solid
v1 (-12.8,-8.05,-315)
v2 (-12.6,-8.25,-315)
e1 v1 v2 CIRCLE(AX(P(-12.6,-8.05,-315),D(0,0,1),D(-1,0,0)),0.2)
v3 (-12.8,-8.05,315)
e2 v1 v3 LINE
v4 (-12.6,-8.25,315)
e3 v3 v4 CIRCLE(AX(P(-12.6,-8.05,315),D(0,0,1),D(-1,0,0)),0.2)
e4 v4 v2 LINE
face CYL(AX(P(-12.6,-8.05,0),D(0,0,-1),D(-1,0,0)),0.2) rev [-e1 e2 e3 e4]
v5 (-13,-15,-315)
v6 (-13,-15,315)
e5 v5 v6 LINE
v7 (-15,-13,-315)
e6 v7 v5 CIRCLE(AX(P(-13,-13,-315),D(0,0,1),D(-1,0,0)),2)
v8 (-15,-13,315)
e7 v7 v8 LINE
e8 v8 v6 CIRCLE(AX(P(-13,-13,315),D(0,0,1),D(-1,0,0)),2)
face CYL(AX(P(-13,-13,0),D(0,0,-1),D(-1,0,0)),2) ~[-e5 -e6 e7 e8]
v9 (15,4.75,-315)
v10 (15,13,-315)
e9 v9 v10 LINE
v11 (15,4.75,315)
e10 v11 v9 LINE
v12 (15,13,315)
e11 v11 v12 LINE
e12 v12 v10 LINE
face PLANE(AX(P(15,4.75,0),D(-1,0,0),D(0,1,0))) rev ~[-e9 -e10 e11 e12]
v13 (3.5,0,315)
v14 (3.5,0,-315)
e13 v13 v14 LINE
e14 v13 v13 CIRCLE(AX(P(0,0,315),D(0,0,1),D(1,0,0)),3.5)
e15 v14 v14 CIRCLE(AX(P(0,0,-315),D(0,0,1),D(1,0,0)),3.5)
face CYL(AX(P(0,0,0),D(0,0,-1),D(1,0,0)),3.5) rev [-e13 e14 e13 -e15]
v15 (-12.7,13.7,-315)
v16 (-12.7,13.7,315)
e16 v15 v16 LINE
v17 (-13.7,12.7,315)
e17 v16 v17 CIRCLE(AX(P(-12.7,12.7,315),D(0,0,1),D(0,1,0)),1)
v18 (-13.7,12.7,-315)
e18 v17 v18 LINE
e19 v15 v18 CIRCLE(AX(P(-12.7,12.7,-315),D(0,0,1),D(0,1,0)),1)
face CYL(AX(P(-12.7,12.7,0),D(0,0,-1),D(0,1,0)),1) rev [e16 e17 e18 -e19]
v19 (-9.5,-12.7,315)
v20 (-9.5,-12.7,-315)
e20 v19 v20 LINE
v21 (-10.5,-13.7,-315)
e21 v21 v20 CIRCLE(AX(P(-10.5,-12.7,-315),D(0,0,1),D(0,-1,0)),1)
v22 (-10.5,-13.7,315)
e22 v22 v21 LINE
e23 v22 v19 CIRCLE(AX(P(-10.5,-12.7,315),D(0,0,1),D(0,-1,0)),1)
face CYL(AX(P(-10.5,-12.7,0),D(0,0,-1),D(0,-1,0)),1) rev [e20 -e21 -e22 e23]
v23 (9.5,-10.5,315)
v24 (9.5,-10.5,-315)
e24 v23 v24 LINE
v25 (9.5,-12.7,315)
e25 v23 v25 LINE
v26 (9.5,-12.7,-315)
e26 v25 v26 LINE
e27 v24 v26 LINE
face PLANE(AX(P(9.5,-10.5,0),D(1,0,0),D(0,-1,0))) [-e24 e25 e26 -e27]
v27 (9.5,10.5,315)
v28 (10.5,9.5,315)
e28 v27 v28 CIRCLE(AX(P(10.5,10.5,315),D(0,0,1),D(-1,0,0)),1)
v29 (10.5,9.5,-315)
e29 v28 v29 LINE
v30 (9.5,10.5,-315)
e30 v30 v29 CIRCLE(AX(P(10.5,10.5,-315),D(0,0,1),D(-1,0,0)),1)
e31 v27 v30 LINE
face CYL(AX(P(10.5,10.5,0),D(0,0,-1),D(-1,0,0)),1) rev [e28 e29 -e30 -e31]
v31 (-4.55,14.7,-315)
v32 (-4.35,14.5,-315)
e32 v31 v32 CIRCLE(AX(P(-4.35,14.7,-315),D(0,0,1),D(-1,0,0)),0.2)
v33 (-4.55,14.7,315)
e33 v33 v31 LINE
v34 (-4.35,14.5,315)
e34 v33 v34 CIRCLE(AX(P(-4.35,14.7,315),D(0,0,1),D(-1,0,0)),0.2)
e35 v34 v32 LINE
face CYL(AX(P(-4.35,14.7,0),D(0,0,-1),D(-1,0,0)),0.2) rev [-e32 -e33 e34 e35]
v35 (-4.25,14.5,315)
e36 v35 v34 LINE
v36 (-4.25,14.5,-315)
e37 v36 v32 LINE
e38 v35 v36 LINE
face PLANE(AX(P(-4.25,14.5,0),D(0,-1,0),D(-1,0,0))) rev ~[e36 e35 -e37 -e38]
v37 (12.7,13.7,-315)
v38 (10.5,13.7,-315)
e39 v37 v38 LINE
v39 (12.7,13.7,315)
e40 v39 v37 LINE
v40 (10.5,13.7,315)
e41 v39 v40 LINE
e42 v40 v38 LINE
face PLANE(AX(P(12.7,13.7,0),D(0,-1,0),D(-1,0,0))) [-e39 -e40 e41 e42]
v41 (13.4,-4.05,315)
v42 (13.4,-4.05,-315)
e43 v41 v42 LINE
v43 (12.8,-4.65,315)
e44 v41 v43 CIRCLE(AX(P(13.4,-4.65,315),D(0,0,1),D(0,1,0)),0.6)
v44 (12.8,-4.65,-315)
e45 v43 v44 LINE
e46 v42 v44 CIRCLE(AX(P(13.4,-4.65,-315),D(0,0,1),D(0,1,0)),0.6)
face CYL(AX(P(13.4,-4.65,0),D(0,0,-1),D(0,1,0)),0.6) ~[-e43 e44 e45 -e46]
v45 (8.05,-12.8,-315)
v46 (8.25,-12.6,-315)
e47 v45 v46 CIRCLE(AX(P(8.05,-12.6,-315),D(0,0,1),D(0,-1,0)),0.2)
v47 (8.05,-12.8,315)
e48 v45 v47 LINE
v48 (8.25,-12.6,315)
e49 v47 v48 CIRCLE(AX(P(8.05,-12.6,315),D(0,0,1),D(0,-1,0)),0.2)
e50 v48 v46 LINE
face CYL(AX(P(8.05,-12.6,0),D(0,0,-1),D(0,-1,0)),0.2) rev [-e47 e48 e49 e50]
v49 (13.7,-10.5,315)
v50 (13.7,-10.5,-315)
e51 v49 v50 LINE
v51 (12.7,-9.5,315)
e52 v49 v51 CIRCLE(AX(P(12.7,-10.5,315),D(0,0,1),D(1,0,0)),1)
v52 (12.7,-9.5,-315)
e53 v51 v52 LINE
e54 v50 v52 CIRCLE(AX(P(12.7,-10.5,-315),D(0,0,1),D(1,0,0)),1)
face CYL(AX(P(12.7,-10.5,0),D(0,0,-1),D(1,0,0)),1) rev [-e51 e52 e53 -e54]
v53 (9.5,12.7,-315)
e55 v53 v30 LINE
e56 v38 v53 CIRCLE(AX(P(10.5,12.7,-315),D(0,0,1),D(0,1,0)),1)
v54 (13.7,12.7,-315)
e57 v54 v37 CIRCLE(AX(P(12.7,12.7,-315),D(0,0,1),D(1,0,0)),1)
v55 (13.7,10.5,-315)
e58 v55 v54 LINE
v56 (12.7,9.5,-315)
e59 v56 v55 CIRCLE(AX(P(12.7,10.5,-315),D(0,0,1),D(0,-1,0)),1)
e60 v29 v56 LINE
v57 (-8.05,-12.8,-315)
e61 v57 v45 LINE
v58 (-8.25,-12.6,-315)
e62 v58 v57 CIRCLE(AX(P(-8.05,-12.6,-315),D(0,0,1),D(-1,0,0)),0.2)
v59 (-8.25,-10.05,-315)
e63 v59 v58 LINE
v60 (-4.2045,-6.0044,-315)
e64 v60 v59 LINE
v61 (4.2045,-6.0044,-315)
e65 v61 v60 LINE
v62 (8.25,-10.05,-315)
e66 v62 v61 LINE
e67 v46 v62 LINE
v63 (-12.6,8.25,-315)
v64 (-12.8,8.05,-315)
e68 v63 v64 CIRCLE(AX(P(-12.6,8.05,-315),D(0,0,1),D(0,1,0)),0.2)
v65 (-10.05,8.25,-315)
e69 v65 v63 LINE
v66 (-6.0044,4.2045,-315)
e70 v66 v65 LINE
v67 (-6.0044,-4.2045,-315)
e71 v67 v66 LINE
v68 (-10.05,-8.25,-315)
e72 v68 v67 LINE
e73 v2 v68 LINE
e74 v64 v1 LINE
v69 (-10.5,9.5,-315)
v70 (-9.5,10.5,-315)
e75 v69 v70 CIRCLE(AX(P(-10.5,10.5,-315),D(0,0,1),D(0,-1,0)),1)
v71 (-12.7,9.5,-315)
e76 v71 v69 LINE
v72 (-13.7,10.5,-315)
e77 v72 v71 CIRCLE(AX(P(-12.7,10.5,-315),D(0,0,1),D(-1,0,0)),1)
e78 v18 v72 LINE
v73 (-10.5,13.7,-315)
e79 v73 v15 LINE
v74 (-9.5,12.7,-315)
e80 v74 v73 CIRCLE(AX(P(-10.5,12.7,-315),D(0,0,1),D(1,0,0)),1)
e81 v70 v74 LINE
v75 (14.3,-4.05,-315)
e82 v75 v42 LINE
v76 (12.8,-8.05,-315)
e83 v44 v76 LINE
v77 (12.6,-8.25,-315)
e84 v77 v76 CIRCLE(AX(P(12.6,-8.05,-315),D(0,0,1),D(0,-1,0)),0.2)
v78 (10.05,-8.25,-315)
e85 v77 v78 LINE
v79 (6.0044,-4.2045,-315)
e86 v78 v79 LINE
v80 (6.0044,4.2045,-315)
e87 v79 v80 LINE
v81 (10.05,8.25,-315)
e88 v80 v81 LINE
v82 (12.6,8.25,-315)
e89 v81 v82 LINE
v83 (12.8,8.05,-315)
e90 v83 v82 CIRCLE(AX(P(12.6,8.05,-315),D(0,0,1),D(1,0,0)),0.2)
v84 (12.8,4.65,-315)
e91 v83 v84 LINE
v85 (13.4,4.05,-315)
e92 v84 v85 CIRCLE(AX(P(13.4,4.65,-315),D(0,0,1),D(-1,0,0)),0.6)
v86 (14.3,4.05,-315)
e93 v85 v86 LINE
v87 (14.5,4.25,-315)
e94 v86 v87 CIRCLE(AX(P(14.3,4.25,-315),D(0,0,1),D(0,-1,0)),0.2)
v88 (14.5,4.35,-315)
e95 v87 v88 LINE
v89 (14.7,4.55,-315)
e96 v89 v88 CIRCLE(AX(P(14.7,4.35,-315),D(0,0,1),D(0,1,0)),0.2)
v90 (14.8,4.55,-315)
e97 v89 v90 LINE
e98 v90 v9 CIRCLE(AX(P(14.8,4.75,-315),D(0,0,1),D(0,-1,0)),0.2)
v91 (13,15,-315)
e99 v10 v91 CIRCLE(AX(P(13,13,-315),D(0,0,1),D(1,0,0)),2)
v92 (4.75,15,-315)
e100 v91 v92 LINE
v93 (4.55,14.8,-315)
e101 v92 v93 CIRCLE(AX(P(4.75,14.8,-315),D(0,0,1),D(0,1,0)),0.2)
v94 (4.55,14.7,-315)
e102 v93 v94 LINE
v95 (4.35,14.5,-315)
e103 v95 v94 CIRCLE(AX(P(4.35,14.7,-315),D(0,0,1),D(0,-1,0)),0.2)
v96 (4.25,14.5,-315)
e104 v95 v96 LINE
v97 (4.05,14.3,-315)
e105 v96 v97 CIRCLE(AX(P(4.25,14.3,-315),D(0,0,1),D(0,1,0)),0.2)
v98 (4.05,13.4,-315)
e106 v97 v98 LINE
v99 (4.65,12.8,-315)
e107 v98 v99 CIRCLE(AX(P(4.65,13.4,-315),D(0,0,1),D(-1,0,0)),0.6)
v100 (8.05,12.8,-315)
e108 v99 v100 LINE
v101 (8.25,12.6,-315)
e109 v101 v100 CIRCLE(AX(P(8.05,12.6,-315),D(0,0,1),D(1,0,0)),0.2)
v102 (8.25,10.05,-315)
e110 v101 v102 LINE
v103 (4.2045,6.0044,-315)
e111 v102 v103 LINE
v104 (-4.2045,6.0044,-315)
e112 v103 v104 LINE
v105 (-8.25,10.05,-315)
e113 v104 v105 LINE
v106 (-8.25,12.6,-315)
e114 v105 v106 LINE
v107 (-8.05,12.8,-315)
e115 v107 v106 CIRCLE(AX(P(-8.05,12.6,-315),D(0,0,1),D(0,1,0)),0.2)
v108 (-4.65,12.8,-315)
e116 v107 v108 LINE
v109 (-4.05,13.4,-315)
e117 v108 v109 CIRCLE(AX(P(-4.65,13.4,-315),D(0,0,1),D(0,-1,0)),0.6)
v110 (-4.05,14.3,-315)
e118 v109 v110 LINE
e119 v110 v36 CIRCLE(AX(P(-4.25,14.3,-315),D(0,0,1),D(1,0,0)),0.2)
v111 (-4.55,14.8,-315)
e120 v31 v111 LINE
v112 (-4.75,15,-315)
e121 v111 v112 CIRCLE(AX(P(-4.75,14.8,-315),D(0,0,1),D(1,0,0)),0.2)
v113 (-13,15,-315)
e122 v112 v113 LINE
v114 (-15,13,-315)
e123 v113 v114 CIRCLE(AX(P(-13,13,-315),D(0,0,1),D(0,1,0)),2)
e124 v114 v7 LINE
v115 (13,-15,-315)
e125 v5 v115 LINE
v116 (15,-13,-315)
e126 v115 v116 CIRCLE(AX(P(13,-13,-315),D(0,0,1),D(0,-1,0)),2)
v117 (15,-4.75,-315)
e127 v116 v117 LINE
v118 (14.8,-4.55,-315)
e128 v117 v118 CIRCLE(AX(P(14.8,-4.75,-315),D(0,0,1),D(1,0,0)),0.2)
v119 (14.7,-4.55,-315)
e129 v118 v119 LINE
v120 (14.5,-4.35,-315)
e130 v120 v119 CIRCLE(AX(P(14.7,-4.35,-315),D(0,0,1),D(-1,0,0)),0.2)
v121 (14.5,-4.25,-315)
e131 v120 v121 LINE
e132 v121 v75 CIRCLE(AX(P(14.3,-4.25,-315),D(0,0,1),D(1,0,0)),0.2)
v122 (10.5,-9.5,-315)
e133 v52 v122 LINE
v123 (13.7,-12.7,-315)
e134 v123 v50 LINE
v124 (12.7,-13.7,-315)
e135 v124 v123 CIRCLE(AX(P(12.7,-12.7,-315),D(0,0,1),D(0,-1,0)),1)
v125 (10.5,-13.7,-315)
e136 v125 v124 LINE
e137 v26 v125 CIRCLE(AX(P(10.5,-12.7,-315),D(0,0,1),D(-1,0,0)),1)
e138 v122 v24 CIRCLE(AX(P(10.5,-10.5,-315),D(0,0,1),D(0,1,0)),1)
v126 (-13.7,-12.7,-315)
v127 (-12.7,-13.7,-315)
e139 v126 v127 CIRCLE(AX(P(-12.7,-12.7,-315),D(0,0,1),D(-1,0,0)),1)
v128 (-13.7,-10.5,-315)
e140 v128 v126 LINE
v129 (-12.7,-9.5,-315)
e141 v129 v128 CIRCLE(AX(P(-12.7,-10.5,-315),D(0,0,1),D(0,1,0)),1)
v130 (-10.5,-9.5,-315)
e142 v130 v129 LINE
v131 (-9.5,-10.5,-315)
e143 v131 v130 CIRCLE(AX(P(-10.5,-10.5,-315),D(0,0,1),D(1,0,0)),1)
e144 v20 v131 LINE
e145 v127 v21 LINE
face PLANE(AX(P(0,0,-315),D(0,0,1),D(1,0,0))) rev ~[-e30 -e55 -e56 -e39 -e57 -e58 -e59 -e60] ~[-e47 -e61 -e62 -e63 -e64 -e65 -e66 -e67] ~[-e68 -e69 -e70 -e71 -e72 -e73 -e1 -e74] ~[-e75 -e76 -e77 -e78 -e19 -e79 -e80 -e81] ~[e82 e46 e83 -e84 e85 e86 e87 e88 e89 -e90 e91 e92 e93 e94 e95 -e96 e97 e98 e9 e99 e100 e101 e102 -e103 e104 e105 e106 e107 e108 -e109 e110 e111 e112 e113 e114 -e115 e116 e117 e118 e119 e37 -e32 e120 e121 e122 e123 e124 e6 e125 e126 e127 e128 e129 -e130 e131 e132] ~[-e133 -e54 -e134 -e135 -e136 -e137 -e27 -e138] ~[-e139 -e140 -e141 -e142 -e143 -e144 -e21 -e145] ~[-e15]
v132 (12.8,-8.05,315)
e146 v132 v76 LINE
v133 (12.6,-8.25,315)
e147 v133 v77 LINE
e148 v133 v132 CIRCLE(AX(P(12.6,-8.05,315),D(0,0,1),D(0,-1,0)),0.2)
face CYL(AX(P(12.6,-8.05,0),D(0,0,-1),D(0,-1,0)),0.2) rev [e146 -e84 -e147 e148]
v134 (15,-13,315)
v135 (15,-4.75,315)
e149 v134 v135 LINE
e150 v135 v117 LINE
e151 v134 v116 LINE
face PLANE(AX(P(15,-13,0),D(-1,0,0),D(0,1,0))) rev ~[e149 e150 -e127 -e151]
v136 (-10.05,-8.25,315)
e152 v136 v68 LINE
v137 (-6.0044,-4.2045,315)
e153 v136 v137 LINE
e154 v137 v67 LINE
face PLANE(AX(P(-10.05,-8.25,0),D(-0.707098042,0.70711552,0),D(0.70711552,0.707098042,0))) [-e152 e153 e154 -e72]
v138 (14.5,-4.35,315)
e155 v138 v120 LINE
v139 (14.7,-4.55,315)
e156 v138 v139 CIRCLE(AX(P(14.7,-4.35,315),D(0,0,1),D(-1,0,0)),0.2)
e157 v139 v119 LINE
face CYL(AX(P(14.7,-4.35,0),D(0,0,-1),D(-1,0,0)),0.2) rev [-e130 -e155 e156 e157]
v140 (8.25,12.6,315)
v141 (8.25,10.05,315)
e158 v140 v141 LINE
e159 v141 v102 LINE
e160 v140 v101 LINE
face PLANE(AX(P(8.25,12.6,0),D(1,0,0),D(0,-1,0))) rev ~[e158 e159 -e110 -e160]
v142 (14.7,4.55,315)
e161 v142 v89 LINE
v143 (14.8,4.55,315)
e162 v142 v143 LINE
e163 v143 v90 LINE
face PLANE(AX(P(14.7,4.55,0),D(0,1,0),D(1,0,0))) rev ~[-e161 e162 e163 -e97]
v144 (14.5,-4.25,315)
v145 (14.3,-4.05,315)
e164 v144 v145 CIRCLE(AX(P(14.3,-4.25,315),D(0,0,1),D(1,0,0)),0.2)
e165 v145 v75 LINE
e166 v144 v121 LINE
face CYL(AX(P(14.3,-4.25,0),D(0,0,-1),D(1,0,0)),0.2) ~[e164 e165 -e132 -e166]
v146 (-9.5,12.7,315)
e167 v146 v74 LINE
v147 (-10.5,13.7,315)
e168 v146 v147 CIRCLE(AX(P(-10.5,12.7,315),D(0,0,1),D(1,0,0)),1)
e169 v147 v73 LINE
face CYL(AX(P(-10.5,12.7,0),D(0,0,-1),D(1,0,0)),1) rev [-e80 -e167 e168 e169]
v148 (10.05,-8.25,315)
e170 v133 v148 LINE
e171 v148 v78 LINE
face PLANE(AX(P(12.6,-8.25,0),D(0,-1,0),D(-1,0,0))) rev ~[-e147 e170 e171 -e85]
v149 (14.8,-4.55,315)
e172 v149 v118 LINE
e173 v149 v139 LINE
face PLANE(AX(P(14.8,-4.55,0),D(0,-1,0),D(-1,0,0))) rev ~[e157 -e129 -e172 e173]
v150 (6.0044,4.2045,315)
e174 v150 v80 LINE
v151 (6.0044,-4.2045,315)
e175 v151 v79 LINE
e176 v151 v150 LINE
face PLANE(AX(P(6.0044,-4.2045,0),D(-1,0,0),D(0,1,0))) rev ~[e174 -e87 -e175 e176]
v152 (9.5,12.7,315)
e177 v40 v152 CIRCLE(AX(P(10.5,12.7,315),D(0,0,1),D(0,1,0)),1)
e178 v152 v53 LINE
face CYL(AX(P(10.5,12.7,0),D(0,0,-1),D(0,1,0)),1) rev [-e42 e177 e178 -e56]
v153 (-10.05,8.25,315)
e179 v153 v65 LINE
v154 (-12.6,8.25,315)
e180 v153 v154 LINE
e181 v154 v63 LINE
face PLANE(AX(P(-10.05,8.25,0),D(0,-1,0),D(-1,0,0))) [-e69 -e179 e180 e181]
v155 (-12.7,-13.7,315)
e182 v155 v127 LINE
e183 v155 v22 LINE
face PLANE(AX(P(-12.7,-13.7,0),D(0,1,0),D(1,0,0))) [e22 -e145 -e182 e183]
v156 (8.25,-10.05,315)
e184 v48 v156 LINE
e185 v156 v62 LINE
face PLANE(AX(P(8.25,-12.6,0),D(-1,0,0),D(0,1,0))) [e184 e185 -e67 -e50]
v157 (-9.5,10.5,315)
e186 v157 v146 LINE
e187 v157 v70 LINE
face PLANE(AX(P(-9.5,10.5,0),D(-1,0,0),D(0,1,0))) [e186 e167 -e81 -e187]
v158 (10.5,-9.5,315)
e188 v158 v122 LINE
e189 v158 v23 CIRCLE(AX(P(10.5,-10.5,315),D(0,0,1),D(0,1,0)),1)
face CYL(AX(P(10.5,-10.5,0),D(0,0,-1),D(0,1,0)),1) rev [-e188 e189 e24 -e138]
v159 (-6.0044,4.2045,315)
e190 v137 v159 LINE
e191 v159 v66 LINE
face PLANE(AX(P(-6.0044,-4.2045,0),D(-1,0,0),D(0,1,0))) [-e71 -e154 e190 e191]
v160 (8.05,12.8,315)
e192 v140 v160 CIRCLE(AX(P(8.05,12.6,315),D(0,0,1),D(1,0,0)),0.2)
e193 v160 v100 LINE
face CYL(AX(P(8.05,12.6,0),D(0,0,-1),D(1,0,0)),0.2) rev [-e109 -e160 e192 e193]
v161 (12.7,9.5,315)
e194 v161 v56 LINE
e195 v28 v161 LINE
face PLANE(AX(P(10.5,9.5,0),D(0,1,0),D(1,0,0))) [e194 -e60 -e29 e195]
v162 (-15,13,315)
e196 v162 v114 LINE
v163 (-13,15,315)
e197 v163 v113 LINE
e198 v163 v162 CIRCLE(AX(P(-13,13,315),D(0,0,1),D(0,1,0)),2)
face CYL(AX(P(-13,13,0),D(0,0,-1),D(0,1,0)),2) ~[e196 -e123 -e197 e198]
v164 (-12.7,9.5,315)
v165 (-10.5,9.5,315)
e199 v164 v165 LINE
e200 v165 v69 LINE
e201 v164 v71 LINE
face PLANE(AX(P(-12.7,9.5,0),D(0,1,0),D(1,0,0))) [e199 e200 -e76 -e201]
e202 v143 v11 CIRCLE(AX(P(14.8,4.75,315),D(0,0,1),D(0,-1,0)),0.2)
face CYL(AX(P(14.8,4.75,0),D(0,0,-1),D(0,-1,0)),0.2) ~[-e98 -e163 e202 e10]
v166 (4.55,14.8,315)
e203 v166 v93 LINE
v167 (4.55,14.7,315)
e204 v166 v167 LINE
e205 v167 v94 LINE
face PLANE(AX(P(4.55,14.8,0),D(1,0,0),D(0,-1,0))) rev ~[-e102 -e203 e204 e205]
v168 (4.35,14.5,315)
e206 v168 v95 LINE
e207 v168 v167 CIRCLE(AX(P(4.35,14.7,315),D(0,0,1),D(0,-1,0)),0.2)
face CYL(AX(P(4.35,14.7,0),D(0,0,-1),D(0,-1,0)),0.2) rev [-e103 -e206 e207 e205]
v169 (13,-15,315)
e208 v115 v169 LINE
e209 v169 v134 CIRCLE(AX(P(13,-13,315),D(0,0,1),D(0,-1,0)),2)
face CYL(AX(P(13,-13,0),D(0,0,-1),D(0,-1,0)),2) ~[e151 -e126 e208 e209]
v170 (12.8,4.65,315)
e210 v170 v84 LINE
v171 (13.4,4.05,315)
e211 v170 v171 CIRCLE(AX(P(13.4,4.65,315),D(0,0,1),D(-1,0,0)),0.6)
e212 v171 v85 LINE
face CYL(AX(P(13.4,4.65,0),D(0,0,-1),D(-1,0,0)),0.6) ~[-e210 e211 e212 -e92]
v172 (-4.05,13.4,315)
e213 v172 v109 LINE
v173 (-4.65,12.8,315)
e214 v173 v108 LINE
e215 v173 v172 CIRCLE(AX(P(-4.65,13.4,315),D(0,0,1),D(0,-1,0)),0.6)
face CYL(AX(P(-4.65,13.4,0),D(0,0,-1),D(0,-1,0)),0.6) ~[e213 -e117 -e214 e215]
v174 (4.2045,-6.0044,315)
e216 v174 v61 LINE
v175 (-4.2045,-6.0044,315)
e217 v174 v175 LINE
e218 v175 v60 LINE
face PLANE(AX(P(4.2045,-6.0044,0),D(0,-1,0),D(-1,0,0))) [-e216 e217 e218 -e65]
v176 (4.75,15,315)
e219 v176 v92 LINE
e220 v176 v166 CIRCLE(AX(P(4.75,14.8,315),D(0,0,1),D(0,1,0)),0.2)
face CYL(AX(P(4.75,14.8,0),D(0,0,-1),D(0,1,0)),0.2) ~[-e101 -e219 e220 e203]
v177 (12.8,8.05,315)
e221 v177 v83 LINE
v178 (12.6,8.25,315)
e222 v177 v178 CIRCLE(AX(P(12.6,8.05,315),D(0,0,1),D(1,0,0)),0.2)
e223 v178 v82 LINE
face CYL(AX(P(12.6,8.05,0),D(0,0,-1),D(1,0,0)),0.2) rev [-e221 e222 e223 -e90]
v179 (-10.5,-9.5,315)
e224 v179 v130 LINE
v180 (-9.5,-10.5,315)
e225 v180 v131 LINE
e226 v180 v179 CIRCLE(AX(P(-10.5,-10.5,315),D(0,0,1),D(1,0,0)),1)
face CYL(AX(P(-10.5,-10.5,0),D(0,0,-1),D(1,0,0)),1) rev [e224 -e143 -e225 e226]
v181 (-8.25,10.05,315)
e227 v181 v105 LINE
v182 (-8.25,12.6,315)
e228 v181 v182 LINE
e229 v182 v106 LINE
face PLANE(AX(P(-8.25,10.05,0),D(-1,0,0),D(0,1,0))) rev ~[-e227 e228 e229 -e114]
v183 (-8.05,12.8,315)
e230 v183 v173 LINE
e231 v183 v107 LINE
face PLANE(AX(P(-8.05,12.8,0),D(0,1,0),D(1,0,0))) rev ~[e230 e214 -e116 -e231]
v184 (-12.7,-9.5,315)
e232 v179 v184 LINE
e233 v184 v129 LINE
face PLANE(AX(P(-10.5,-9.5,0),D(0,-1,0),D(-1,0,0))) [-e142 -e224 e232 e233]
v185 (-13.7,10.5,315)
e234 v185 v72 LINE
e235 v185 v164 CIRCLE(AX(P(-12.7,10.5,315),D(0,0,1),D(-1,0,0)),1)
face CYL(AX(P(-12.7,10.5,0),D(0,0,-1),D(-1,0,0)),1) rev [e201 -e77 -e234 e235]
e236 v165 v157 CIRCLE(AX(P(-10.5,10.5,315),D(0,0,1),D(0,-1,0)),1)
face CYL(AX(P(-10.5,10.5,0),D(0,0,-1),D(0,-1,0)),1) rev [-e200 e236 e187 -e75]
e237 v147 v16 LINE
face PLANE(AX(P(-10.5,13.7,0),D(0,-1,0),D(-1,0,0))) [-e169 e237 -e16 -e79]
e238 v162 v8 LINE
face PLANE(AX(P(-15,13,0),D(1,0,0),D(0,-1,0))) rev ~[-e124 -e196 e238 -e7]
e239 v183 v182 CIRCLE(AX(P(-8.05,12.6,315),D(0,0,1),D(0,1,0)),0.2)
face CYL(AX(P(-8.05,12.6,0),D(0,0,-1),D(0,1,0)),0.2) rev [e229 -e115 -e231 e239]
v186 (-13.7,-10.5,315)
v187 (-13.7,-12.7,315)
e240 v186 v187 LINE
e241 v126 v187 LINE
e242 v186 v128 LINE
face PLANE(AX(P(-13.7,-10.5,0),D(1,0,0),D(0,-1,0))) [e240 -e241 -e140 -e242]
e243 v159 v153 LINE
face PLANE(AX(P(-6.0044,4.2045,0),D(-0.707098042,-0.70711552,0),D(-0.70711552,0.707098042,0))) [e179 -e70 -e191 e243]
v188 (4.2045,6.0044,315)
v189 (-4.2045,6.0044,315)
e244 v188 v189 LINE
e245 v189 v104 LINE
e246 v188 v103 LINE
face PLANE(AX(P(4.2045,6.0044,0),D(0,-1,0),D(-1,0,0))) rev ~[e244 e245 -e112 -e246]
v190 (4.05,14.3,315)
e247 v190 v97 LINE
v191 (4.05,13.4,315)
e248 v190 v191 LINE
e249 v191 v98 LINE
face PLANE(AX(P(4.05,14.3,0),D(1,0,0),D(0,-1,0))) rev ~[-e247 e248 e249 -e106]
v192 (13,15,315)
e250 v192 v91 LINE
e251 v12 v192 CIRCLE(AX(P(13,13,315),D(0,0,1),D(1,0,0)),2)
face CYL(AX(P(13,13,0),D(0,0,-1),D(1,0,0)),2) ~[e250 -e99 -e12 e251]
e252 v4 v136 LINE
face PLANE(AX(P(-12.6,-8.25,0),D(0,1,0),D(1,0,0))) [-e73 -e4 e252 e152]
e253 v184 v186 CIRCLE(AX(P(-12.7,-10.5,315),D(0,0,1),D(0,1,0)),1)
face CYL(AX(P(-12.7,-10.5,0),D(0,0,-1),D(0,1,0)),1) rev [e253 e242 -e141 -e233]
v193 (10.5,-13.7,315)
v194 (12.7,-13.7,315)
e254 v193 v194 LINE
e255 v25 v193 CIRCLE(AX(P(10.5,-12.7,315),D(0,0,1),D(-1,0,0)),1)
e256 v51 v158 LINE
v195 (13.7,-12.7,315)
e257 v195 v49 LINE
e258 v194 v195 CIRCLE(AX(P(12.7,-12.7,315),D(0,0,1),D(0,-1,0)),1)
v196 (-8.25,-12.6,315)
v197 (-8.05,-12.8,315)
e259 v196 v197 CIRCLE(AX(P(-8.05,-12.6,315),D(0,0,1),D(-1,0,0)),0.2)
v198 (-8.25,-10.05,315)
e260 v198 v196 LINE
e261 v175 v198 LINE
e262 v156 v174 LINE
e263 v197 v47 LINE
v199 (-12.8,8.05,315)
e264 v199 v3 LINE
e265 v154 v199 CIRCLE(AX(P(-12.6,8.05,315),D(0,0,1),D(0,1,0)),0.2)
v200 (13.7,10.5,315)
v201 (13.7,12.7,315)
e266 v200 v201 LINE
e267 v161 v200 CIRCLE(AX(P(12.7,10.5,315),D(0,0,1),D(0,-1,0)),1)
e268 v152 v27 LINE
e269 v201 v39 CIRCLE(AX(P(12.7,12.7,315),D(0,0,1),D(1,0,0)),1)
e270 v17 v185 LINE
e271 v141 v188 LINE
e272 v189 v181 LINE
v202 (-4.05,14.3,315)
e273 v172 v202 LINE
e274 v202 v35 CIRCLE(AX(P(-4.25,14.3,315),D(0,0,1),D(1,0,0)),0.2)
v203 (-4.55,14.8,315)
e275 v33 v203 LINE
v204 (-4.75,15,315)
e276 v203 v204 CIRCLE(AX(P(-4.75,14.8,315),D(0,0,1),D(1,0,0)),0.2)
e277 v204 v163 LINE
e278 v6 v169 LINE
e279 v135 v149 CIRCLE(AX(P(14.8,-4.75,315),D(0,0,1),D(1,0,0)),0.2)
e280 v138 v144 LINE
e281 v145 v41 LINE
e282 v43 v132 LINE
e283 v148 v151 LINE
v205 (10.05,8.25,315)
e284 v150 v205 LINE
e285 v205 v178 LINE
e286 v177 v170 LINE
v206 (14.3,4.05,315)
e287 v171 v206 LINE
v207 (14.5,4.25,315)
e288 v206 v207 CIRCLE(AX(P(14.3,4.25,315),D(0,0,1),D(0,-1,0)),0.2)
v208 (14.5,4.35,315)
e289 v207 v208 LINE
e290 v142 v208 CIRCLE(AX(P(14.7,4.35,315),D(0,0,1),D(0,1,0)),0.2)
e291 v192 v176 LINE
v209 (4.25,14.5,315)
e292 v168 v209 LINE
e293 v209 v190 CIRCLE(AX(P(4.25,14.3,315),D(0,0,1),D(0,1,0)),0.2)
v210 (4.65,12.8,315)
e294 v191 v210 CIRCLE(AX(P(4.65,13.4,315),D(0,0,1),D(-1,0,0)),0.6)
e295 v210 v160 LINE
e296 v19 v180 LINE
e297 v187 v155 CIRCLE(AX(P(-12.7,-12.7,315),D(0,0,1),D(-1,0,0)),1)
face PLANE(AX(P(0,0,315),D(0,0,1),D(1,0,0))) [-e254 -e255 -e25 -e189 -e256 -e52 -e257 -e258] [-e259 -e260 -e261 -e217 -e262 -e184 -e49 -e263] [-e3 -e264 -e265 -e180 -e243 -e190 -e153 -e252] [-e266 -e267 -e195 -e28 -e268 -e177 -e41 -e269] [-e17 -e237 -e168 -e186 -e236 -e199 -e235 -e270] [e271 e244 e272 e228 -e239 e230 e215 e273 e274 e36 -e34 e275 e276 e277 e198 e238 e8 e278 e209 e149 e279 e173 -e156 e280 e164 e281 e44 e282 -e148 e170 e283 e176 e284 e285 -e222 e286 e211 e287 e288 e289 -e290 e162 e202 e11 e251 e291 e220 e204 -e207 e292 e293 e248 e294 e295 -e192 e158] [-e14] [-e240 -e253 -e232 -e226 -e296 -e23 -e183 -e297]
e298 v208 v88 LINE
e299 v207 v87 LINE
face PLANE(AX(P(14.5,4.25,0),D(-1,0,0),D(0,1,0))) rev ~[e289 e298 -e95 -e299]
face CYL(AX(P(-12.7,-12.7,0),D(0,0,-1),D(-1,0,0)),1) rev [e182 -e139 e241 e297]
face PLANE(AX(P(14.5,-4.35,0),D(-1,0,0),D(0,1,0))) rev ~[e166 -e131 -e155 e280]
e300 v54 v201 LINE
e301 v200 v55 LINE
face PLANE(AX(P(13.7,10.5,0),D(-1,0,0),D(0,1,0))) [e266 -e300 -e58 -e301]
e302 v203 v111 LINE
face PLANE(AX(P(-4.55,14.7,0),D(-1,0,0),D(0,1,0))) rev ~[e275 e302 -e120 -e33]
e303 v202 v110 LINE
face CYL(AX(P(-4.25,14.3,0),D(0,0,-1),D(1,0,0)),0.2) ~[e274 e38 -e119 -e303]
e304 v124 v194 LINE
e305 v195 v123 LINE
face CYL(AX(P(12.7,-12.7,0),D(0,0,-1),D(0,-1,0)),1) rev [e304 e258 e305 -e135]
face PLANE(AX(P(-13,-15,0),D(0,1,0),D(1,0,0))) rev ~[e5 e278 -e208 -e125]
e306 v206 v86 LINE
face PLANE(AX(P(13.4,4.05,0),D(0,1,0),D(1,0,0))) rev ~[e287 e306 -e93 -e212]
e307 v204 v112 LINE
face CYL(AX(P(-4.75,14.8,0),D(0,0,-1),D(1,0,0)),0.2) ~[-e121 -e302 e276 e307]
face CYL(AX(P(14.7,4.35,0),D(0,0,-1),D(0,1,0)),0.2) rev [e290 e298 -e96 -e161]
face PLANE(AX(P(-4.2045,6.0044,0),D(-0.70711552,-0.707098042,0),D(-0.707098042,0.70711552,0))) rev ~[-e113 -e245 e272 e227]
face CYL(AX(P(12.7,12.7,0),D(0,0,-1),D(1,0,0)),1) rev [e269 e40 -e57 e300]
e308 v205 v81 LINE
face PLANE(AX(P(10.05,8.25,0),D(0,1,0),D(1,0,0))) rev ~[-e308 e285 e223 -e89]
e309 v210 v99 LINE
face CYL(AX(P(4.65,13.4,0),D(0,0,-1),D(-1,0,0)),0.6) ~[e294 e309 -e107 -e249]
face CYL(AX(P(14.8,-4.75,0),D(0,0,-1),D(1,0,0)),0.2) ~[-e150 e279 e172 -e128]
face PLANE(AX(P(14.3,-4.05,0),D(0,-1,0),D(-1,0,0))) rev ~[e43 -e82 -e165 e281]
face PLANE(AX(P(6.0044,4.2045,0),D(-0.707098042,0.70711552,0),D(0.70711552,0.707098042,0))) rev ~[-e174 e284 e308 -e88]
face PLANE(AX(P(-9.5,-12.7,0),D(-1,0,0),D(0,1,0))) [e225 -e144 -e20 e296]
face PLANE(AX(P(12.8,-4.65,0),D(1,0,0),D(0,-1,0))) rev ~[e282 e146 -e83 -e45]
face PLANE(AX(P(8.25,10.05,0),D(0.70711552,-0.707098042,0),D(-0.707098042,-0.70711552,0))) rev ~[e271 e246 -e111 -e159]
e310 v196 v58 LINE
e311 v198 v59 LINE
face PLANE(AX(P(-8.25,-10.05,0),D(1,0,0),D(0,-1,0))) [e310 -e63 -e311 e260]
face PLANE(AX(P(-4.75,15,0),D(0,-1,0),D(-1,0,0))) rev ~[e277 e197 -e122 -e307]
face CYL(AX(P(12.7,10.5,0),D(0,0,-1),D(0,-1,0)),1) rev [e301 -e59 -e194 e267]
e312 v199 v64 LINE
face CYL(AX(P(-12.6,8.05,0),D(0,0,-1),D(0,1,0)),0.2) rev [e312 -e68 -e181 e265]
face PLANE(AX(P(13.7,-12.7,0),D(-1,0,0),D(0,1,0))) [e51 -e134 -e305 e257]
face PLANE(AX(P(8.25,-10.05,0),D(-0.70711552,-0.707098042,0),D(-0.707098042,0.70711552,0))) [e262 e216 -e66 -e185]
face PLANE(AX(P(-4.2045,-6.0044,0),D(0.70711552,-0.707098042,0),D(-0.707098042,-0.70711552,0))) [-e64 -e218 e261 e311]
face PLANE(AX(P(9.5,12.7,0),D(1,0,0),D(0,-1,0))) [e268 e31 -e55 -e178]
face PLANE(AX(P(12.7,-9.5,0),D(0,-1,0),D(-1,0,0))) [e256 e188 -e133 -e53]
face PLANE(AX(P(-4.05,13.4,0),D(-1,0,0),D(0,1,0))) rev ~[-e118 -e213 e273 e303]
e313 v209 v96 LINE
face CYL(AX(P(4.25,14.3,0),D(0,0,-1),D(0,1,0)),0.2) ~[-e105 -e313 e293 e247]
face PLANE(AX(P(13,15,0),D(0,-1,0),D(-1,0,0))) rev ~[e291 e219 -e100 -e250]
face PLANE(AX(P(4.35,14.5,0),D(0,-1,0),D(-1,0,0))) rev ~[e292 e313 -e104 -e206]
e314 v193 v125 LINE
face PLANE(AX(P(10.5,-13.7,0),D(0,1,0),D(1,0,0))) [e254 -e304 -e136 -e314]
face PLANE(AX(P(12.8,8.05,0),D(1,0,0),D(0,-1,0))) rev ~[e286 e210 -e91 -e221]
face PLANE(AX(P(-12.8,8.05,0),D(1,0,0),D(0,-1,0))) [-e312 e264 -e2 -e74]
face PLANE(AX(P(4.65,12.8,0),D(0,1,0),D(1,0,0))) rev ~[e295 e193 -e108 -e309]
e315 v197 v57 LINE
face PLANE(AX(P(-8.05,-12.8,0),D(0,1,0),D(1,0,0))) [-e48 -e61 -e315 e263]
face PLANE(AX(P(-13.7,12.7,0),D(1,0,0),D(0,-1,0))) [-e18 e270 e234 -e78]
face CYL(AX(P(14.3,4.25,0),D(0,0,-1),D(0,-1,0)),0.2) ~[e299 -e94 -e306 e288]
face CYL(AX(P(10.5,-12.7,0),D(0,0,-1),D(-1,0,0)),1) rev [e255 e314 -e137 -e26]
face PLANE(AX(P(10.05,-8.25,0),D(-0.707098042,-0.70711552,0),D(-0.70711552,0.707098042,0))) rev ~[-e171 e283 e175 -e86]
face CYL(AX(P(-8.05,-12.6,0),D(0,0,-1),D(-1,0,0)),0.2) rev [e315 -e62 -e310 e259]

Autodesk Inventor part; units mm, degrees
ref_plane "YZ Plane" through (0, 0, 0) normal (1, 0, 0) x (0, 1, 0)
ref_plane "XZ Plane" through (0, 0, 0) normal (0, 1, 0) x (-1, 0, 0)
ref_plane "XY Plane" through (0, 0, 0) normal (0, 0, 1) x (1, 0, 0)
feature "Boss-Extrude1" [suppressed]
sketch "Sketch1" plane through (0, 0, 0) normal (0, 0, 1) x (1, 0, 0)
  arc A0 (-15, -13) -> (-13, -15) centre (-13, -13) ccw projected
  line L0 (-13, -15) -> (13, -15) projected
  arc A1 (13, -15) -> (15, -13) centre (13, -13) ccw projected
  line L1 (15, -13) -> (15, -4.75) projected
  arc A2 (15, -4.75) -> (14.8, -4.55) centre (14.8, -4.75) ccw projected
  line L2 (14.8, -4.55) -> (14.7, -4.55) projected
  arc A3 (14.5, -4.35) -> (14.7, -4.55) centre (14.7, -4.35) ccw projected
  line L3 (14.5, -4.35) -> (14.5, -4.25) projected
  arc A4 (14.5, -4.25) -> (14.3, -4.05) centre (14.3, -4.25) ccw projected
  line L4 (14.3, -4.05) -> (13.4, -4.05) projected
  arc A5 (13.4, -4.05) -> (12.8, -4.65) centre (13.4, -4.65) ccw projected
  line L5 (12.8, -4.65) -> (12.8, -8.05) projected
  arc A6 (12.6, -8.25) -> (12.8, -8.05) centre (12.6, -8.05) ccw projected
  line L6 (12.6, -8.25) -> (10.05, -8.25) projected
  line L7 (10.05, -8.25) -> (6.0044, -4.2045) projected
  line L8 (6.0044, -4.2045) -> (6.0044, 4.2045) projected
  line L9 (6.0044, 4.2045) -> (10.05, 8.25) projected
  line L10 (10.05, 8.25) -> (12.6, 8.25) projected
  arc A7 (12.8, 8.05) -> (12.6, 8.25) centre (12.6, 8.05) ccw projected
  line L11 (12.8, 8.05) -> (12.8, 4.65) projected
  arc A8 (12.8, 4.65) -> (13.4, 4.05) centre (13.4, 4.65) ccw projected
  line L12 (13.4, 4.05) -> (14.3, 4.05) projected
  arc A9 (14.3, 4.05) -> (14.5, 4.25) centre (14.3, 4.25) ccw projected
  line L13 (14.5, 4.25) -> (14.5, 4.35) projected
  arc A10 (14.7, 4.55) -> (14.5, 4.35) centre (14.7, 4.35) ccw projected
  line L14 (14.7, 4.55) -> (14.8, 4.55) projected
  arc A11 (14.8, 4.55) -> (15, 4.75) centre (14.8, 4.75) ccw projected
  line L15 (15, 4.75) -> (15, 13) projected
  arc A12 (15, 13) -> (13, 15) centre (13, 13) ccw projected
  line L16 (13, 15) -> (4.75, 15) projected
  arc A13 (4.75, 15) -> (4.55, 14.8) centre (4.75, 14.8) ccw projected
  line L17 (4.55, 14.8) -> (4.55, 14.7) projected
  arc A14 (4.35, 14.5) -> (4.55, 14.7) centre (4.35, 14.7) ccw projected
  line L18 (4.35, 14.5) -> (4.25, 14.5) projected
  arc A15 (4.25, 14.5) -> (4.05, 14.3) centre (4.25, 14.3) ccw projected
  line L19 (4.05, 14.3) -> (4.05, 13.4) projected
  arc A16 (4.05, 13.4) -> (4.65, 12.8) centre (4.65, 13.4) ccw projected
  line L20 (4.65, 12.8) -> (8.05, 12.8) projected
  arc A17 (8.25, 12.6) -> (8.05, 12.8) centre (8.05, 12.6) ccw projected
  line L21 (8.25, 12.6) -> (8.25, 10.05) projected
  line L22 (8.25, 10.05) -> (4.2045, 6.0044) projected
  line L23 (4.2045, 6.0044) -> (-4.2045, 6.0044) projected
  line L24 (-4.2045, 6.0044) -> (-8.25, 10.05) projected
  line L25 (-8.25, 10.05) -> (-8.25, 12.6) projected
  arc A18 (-8.05, 12.8) -> (-8.25, 12.6) centre (-8.05, 12.6) ccw projected
  line L26 (-8.05, 12.8) -> (-4.65, 12.8) projected
  arc A19 (-4.65, 12.8) -> (-4.05, 13.4) centre (-4.65, 13.4) ccw projected
  line L27 (-4.05, 13.4) -> (-4.05, 14.3) projected
  arc A20 (-4.05, 14.3) -> (-4.25, 14.5) centre (-4.25, 14.3) ccw projected
  line L28 (-4.25, 14.5) -> (-4.35, 14.5) projected
  arc A21 (-4.55, 14.7) -> (-4.35, 14.5) centre (-4.35, 14.7) ccw projected
  line L29 (-4.55, 14.7) -> (-4.55, 14.8) projected
  arc A22 (-4.55, 14.8) -> (-4.75, 15) centre (-4.75, 14.8) ccw projected
  line L30 (-4.75, 15) -> (-13, 15) projected
  arc A23 (-13, 15) -> (-15, 13) centre (-13, 13) ccw projected
  line L31 (-15, 13) -> (-15, -13) projected
  circle A24 centre (0, 0) radius 3.5 projected
  arc A25 (12.7, -13.7) -> (13.7, -12.7) centre (12.7, -12.7) ccw projected
  line L32 (10.5, -13.7) -> (12.7, -13.7) projected
  arc A26 (9.5, -12.7) -> (10.5, -13.7) centre (10.5, -12.7) ccw projected
  line L33 (9.5, -10.5) -> (9.5, -12.7) projected
  arc A27 (10.5, -9.5) -> (9.5, -10.5) centre (10.5, -10.5) ccw projected
  line L34 (12.7, -9.5) -> (10.5, -9.5) projected
  arc A28 (13.7, -10.5) -> (12.7, -9.5) centre (12.7, -10.5) ccw projected
  line L35 (13.7, -12.7) -> (13.7, -10.5) projected
  arc A29 (13.7, 12.7) -> (12.7, 13.7) centre (12.7, 12.7) ccw projected
  line L36 (13.7, 10.5) -> (13.7, 12.7) projected
  arc A30 (12.7, 9.5) -> (13.7, 10.5) centre (12.7, 10.5) ccw projected
  line L37 (10.5, 9.5) -> (12.7, 9.5) projected
  arc A31 (9.5, 10.5) -> (10.5, 9.5) centre (10.5, 10.5) ccw projected
  line L38 (9.5, 12.7) -> (9.5, 10.5) projected
  arc A32 (10.5, 13.7) -> (9.5, 12.7) centre (10.5, 12.7) ccw projected
  line L39 (12.7, 13.7) -> (10.5, 13.7) projected
  arc A33 (8.05, -12.8) -> (8.25, -12.6) centre (8.05, -12.6) ccw projected
  line L40 (-8.05, -12.8) -> (8.05, -12.8) projected
  arc A34 (-8.25, -12.6) -> (-8.05, -12.8) centre (-8.05, -12.6) ccw projected
  line L41 (-8.25, -10.05) -> (-8.25, -12.6) projected
  line L42 (-4.2045, -6.0044) -> (-8.25, -10.05) projected
  line L43 (4.2045, -6.0044) -> (-4.2045, -6.0044) projected
  line L44 (8.25, -10.05) -> (4.2045, -6.0044) projected
  line L45 (8.25, -12.6) -> (8.25, -10.05) projected
  arc A35 (-13.7, -12.7) -> (-12.7, -13.7) centre (-12.7, -12.7) ccw projected
  line L46 (-13.7, -10.5) -> (-13.7, -12.7) projected
  arc A36 (-12.7, -9.5) -> (-13.7, -10.5) centre (-12.7, -10.5) ccw projected
  line L47 (-10.5, -9.5) -> (-12.7, -9.5) projected
  arc A37 (-9.5, -10.5) -> (-10.5, -9.5) centre (-10.5, -10.5) ccw projected
  line L48 (-9.5, -12.7) -> (-9.5, -10.5) projected
  arc A38 (-10.5, -13.7) -> (-9.5, -12.7) centre (-10.5, -12.7) ccw projected
  line L49 (-12.7, -13.7) -> (-10.5, -13.7) projected
  arc A39 (-12.7, 13.7) -> (-13.7, 12.7) centre (-12.7, 12.7) ccw projected
  line L50 (-10.5, 13.7) -> (-12.7, 13.7) projected
  arc A40 (-9.5, 12.7) -> (-10.5, 13.7) centre (-10.5, 12.7) ccw projected
  line L51 (-9.5, 10.5) -> (-9.5, 12.7) projected
  arc A41 (-10.5, 9.5) -> (-9.5, 10.5) centre (-10.5, 10.5) ccw projected
  line L52 (-12.7, 9.5) -> (-10.5, 9.5) projected
  arc A42 (-13.7, 10.5) -> (-12.7, 9.5) centre (-12.7, 10.5) ccw projected
  line L53 (-13.7, 12.7) -> (-13.7, 10.5) projected
  arc A43 (-12.8, -8.05) -> (-12.6, -8.25) centre (-12.6, -8.05) ccw projected
  line L54 (-12.8, 8.05) -> (-12.8, -8.05) projected
  arc A44 (-12.6, 8.25) -> (-12.8, 8.05) centre (-12.6, 8.05) ccw projected
  line L55 (-10.05, 8.25) -> (-12.6, 8.25) projected
  line L56 (-6.0044, 4.2045) -> (-10.05, 8.25) projected
  line L57 (-6.0044, -4.2045) -> (-6.0044, 4.2045) projected
  line L58 (-10.05, -8.25) -> (-6.0044, -4.2045) projected
  line L59 (-12.6, -8.25) -> (-10.05, -8.25) projected
  point P0 (0, 0)
extrude "Extrusion1" add sketch "Sketch1" along normal mid plane 630
